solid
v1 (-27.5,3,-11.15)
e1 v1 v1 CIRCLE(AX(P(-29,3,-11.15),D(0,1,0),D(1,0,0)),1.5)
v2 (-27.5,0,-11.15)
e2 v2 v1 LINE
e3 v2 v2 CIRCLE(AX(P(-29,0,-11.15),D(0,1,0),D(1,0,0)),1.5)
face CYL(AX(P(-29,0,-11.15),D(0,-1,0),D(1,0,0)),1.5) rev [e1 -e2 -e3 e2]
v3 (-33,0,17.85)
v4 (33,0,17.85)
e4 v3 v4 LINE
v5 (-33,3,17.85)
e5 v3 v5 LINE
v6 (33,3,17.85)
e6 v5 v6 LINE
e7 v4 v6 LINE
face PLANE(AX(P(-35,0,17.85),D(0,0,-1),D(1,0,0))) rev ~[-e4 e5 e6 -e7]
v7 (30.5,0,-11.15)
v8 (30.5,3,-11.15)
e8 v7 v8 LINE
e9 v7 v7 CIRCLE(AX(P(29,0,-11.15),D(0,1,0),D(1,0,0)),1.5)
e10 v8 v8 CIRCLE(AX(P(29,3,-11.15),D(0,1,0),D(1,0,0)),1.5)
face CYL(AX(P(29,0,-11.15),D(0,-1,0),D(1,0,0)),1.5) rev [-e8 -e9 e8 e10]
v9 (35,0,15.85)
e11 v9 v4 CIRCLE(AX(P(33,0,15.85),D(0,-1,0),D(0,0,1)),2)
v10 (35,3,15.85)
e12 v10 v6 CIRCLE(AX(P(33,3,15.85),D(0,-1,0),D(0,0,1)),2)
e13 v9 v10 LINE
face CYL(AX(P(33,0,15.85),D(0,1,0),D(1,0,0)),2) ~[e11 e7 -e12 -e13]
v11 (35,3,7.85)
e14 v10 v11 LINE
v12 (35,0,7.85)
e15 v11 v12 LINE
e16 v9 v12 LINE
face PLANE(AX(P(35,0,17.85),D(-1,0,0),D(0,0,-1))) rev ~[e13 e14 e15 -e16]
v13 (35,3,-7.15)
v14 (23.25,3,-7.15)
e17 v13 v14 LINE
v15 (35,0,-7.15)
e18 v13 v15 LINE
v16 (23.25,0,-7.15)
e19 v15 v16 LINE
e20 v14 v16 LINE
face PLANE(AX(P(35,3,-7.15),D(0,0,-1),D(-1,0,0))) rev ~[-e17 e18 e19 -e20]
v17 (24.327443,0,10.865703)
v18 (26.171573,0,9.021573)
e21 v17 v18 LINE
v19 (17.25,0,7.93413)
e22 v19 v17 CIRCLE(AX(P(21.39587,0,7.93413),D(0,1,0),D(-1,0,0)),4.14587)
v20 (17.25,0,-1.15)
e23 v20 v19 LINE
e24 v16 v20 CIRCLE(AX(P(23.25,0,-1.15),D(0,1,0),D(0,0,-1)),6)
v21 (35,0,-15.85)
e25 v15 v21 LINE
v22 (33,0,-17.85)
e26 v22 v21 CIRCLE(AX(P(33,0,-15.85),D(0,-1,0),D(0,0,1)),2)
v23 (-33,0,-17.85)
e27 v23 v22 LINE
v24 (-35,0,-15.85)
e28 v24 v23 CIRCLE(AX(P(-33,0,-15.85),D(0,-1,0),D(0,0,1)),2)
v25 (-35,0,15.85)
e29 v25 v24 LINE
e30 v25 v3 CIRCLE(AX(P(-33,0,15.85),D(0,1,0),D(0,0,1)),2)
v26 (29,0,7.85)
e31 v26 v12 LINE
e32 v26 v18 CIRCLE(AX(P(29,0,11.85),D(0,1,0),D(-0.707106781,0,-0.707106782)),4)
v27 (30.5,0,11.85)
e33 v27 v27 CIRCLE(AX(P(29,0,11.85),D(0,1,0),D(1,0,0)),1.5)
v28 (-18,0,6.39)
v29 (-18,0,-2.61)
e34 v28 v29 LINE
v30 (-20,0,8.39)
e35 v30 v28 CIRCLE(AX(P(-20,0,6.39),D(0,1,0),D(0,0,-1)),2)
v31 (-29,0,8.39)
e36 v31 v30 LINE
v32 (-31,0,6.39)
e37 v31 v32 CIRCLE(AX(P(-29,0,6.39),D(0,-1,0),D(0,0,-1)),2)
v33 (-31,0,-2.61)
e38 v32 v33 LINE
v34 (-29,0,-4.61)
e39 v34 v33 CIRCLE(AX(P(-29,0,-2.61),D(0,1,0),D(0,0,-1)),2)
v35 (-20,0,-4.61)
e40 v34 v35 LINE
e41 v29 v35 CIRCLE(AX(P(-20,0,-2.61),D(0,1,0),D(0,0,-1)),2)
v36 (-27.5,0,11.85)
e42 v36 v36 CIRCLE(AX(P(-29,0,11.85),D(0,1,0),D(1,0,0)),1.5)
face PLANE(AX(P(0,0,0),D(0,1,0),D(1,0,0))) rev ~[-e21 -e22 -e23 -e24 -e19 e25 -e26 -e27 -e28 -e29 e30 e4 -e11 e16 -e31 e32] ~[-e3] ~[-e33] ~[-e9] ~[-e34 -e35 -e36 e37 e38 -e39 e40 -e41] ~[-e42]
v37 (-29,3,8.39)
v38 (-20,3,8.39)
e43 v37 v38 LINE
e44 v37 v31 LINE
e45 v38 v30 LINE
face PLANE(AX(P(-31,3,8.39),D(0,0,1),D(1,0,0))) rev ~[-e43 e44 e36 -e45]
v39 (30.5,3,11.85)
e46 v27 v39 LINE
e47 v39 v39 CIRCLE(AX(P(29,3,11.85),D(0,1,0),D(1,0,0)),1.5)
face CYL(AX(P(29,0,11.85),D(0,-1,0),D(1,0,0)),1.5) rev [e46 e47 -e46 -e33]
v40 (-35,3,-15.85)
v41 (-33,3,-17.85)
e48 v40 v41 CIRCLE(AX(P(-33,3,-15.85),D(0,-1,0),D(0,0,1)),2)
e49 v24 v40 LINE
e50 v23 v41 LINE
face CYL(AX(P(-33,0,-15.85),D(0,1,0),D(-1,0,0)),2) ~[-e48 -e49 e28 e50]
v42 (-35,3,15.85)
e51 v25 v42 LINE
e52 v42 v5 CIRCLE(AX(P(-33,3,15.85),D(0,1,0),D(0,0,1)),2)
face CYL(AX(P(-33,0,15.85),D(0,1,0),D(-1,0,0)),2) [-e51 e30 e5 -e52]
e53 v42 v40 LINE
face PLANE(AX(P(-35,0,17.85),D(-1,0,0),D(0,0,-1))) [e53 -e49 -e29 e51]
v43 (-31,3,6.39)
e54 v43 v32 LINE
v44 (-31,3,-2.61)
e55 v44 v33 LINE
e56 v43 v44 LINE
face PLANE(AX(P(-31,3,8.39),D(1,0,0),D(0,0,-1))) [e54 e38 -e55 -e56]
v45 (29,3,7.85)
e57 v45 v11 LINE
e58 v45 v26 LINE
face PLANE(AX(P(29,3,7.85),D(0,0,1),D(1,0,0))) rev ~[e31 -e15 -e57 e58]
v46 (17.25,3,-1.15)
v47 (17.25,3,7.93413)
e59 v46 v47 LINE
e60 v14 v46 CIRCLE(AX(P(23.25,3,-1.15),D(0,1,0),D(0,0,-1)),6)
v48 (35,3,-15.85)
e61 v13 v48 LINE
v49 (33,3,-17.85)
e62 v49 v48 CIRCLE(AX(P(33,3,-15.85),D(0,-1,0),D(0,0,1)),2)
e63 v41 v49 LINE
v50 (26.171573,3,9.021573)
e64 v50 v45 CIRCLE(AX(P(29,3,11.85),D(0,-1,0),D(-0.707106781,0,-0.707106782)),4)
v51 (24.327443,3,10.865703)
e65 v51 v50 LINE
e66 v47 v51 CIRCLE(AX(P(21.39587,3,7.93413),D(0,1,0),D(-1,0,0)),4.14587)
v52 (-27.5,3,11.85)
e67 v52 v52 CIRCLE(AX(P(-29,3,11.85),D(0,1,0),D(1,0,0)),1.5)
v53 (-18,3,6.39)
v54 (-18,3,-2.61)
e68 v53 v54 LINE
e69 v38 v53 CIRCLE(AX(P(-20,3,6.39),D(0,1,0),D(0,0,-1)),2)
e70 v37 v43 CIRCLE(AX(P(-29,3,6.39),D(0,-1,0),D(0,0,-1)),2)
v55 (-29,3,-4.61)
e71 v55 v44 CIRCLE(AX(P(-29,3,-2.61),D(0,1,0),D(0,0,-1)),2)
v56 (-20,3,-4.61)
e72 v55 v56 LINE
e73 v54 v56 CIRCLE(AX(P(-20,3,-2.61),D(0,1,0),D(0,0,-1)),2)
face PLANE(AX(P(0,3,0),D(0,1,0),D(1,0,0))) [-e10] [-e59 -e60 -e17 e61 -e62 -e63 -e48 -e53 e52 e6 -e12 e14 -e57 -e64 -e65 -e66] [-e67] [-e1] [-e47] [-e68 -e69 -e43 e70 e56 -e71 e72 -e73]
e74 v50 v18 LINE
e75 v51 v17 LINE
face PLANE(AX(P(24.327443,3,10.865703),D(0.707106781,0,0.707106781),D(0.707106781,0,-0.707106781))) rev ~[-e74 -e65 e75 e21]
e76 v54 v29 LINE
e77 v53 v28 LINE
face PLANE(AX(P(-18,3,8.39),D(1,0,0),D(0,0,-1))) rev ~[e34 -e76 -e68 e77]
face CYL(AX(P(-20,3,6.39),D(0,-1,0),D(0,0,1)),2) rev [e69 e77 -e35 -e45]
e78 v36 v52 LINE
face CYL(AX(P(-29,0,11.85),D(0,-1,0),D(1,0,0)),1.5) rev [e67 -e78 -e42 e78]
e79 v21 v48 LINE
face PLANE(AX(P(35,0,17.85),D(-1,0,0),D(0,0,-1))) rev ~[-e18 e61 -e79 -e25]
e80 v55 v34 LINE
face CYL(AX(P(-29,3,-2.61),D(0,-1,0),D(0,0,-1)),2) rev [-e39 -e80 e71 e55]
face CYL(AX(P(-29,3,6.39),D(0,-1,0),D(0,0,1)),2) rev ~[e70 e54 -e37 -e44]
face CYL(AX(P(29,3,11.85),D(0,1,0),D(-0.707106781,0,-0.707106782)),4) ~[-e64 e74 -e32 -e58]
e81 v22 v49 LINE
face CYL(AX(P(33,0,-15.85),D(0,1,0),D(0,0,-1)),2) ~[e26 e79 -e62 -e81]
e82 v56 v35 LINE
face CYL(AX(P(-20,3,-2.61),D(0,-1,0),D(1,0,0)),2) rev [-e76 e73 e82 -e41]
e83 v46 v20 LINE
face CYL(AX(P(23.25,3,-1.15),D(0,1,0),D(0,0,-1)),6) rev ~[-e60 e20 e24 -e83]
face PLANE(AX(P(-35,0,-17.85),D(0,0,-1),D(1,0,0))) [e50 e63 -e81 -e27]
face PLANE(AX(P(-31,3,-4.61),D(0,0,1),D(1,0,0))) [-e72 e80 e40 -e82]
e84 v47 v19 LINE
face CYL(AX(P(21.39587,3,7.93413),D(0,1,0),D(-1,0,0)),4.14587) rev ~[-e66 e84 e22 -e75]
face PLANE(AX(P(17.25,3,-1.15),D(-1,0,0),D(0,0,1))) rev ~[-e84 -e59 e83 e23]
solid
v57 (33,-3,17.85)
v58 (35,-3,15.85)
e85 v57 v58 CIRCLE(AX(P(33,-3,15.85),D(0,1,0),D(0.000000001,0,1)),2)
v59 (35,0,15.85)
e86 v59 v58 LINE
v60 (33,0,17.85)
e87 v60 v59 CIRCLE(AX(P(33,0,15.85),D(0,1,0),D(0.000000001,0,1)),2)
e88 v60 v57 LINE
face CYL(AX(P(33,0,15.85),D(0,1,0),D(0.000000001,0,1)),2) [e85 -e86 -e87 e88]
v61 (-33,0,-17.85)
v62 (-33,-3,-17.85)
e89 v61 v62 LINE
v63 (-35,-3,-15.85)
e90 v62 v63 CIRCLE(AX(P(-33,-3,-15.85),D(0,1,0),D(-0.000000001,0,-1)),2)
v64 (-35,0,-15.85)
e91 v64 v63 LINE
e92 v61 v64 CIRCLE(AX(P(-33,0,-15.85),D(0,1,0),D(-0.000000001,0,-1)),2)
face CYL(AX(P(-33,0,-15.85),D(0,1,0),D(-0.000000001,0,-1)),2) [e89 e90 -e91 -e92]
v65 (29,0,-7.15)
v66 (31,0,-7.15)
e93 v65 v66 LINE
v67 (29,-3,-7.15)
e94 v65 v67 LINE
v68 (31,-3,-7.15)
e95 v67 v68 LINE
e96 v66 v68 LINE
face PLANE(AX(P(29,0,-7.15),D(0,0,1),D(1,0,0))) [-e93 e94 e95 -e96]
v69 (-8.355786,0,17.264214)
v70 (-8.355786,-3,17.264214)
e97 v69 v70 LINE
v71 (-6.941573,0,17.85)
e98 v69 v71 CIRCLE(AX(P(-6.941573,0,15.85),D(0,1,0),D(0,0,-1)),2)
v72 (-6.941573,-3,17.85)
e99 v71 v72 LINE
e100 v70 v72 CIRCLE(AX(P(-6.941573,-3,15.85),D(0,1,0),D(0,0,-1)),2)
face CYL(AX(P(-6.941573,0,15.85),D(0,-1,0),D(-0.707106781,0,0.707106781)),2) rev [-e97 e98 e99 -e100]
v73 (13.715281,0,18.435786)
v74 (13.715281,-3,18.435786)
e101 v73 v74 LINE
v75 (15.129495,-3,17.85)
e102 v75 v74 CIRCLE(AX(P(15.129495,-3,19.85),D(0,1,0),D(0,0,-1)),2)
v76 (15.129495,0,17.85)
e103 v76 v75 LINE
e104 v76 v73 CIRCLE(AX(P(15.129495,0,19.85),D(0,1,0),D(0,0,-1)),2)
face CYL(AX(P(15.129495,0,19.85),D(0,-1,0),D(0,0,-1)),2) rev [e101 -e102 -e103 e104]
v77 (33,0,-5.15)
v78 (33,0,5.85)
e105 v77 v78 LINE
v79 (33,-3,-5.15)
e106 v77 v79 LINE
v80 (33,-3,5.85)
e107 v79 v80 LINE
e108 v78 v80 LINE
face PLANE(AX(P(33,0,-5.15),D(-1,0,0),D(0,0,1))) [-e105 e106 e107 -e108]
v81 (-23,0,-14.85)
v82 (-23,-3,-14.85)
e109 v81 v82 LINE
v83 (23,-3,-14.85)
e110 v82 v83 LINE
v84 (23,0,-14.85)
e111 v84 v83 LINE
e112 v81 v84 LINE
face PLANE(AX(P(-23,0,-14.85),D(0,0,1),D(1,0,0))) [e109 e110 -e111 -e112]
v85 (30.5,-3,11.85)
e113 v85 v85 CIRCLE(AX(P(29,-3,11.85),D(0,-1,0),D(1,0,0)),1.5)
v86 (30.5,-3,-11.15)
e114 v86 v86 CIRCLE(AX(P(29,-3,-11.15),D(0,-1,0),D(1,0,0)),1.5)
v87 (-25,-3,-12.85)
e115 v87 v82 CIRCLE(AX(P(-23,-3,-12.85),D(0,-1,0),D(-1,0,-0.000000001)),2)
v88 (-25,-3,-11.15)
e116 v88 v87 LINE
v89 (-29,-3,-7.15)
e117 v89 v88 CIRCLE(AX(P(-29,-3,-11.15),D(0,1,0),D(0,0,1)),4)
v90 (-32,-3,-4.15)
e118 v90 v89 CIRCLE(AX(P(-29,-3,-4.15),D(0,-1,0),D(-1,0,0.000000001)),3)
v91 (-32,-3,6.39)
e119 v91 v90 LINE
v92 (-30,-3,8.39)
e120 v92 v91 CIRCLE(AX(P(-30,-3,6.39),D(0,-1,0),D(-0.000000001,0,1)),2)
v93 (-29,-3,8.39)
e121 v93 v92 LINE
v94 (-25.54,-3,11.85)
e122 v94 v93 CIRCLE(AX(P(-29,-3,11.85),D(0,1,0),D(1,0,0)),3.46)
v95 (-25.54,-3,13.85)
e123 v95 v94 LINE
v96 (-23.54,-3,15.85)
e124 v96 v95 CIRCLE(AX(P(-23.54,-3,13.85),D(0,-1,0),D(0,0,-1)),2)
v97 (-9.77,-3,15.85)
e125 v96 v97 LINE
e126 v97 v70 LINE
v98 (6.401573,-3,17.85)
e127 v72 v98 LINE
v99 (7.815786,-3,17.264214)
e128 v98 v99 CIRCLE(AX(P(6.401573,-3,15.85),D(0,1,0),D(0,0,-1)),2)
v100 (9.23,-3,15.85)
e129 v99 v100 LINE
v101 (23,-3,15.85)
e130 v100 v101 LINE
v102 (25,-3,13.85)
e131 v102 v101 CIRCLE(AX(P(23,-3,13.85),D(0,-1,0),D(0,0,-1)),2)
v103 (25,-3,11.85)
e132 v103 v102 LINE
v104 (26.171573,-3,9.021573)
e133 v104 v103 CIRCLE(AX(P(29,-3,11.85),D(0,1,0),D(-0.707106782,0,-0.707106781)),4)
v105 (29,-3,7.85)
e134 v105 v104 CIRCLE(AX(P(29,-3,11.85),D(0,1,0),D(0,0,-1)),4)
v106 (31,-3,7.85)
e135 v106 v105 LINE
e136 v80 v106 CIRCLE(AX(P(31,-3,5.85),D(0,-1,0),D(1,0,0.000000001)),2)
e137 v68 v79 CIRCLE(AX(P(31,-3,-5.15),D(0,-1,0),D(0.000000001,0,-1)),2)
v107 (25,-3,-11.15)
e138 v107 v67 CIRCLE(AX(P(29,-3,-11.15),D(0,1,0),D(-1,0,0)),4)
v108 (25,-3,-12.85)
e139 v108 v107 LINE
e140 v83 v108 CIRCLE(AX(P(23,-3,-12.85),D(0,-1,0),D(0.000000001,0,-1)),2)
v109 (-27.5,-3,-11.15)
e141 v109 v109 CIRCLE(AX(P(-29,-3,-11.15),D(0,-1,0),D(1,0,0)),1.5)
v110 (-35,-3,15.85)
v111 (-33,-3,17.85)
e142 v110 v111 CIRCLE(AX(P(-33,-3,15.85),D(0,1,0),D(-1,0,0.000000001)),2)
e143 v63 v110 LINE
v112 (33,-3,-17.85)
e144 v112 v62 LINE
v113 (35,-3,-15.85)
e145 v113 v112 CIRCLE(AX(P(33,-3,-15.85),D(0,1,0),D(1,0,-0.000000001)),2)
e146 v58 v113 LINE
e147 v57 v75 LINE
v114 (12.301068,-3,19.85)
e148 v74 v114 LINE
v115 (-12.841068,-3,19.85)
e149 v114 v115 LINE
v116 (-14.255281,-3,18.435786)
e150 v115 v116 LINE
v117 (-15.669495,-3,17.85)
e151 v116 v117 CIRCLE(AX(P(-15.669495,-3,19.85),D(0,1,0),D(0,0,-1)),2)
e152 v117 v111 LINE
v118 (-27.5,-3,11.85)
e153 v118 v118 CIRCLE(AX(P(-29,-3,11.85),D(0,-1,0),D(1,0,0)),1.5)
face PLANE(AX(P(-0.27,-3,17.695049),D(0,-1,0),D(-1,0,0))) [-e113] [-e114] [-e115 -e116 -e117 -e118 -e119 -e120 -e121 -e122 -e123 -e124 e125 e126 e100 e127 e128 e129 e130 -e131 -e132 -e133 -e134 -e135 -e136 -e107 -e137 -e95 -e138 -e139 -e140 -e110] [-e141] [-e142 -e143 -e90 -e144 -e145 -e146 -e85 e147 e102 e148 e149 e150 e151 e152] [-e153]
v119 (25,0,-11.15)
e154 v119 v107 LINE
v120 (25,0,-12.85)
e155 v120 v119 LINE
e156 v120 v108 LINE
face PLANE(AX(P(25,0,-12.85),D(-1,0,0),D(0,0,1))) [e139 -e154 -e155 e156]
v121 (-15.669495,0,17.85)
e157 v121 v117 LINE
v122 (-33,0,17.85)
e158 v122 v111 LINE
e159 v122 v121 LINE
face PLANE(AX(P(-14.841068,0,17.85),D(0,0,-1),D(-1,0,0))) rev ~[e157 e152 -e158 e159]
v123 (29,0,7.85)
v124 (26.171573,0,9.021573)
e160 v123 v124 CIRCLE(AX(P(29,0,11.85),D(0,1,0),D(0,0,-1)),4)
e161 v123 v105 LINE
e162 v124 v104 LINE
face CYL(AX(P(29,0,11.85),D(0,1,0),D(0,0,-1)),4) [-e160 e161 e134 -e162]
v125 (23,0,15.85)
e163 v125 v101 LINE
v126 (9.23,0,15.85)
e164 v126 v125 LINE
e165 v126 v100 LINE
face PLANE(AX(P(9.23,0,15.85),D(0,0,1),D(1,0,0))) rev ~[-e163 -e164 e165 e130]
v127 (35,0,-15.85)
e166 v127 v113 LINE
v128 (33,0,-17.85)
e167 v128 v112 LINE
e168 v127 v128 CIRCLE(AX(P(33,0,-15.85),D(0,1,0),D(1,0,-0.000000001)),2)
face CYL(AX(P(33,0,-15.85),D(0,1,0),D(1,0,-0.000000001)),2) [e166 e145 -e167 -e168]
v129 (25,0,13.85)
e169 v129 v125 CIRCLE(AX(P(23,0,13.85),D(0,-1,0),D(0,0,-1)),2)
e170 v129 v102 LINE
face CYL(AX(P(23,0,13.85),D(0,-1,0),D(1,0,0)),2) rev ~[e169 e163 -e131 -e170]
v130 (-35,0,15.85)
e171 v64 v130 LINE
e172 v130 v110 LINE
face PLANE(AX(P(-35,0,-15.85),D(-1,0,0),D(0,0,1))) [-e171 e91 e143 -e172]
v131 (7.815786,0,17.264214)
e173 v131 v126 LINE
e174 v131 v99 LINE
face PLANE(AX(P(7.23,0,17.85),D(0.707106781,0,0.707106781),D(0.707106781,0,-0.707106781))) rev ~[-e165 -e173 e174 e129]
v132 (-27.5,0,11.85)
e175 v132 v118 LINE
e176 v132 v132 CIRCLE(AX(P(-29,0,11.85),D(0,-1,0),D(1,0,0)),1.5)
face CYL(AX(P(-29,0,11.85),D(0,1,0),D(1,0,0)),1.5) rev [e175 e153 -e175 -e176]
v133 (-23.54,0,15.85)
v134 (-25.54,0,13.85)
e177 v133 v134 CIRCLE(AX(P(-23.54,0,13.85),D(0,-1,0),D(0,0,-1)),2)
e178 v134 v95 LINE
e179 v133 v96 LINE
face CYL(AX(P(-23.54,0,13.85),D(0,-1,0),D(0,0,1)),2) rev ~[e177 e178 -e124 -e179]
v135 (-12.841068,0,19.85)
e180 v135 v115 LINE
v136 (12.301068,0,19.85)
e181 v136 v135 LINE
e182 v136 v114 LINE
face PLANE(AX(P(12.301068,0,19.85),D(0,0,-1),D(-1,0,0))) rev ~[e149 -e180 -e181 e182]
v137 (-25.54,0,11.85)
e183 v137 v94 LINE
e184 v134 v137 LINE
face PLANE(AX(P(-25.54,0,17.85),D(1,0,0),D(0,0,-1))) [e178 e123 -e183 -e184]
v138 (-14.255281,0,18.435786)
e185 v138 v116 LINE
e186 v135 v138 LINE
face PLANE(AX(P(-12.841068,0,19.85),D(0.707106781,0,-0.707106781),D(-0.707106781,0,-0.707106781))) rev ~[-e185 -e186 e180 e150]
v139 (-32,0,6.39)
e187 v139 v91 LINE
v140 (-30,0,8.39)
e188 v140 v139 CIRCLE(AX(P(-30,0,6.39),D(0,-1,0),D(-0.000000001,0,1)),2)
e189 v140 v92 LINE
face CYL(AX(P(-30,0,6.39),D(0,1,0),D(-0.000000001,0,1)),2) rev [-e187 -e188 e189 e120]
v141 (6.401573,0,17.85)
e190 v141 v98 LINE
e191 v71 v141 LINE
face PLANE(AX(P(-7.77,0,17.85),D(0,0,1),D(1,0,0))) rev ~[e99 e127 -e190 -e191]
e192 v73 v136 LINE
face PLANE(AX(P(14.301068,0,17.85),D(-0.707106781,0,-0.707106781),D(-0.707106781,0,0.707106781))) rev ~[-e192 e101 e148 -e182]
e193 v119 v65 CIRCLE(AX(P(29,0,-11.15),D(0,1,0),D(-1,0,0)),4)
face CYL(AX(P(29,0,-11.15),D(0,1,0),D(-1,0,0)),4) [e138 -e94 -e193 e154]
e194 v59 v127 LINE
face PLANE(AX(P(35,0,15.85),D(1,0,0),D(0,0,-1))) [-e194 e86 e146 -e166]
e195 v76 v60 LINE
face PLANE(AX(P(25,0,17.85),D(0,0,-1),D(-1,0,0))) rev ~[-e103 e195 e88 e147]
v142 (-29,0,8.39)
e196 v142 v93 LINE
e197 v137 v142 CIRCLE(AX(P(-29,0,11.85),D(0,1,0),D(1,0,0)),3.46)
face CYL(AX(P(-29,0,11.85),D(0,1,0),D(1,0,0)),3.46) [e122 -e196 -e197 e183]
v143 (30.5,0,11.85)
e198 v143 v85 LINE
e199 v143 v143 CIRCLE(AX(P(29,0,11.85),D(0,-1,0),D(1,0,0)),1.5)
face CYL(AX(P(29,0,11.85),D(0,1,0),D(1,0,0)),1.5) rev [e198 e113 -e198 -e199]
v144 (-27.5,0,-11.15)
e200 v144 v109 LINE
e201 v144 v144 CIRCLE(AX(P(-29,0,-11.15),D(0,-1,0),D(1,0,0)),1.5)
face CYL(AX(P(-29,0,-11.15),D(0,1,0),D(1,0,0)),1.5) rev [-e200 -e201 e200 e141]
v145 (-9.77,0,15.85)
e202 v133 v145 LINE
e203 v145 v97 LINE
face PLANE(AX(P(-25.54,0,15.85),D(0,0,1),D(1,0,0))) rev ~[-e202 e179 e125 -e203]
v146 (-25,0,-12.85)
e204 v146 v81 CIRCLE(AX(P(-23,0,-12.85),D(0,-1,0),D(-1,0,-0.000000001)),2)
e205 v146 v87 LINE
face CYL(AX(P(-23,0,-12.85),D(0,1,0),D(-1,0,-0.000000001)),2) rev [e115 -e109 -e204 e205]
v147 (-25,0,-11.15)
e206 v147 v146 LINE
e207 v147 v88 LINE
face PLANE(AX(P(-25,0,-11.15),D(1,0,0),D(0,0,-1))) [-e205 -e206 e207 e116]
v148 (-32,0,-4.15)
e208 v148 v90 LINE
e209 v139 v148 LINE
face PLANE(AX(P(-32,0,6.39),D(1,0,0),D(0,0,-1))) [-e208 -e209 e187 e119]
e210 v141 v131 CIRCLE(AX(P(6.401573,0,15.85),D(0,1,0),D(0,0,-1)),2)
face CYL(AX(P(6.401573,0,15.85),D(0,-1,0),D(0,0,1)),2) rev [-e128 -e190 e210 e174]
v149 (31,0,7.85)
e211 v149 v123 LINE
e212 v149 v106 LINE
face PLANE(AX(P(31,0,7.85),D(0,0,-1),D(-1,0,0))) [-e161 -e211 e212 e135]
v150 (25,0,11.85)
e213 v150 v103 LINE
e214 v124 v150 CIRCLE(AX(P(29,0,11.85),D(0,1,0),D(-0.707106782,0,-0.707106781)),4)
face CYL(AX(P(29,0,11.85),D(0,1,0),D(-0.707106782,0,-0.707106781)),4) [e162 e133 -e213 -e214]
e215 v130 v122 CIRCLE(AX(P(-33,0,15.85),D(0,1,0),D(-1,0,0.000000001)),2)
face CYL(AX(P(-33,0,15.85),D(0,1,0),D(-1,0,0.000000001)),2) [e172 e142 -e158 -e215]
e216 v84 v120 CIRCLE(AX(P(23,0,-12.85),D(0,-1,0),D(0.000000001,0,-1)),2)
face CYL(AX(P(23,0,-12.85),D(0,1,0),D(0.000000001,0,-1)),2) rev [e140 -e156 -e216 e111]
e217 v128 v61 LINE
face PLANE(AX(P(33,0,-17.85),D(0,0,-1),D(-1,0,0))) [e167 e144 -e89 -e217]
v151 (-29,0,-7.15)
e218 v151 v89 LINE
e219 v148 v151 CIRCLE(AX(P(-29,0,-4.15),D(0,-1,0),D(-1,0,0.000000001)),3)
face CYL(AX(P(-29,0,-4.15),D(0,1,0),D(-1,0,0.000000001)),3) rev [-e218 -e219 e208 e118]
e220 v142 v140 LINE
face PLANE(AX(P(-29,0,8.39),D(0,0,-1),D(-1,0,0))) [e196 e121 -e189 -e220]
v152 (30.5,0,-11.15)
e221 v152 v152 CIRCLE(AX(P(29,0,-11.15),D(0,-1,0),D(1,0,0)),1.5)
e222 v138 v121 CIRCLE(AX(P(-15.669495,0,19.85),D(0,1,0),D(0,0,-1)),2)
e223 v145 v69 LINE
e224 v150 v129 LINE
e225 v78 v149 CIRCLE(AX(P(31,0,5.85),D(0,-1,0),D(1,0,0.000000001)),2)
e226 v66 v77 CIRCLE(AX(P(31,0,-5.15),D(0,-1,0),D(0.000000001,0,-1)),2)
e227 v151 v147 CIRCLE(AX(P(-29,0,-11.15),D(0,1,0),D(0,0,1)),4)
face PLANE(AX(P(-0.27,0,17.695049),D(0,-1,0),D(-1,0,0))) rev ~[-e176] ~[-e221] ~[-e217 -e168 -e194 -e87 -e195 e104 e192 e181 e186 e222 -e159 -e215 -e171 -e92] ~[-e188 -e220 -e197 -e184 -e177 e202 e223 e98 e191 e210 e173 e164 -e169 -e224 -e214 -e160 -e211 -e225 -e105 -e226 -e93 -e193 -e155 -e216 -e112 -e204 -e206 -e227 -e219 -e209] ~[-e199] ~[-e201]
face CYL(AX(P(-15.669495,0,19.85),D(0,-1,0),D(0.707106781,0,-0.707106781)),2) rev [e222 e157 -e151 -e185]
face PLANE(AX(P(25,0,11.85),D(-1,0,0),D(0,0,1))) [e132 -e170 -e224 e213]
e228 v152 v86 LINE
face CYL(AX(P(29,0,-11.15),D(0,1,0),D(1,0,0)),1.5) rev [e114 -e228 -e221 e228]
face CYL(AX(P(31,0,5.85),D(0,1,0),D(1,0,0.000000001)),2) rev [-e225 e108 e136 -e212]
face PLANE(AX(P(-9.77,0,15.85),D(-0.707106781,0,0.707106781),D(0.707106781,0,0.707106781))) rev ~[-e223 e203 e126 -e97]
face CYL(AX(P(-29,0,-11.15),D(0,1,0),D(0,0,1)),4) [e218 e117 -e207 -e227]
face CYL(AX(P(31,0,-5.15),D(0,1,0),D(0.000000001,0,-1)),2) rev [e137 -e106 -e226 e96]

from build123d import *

# Parameters (mm, degrees)
SKETCH1_W           = 70
SKETCH1_H           = 35.7
SKETCH1_R           = 1.5
BOSS_EXTRUDE1_DEPTH = 3
SKETCH2_W           = 13
SKETCH2_H           = 13
CUT_EXTRUDE1_DEPTH  = 4
FILLET1_R           = 2
FILLET2_R           = 2
SKETCH3_R           = 1.5
BOSS_EXTRUDE2_DEPTH = 3
BOSS_EXTRUDE3_DEPTH = 3
FILLET3_R           = 2
FILLET4_R           = 2


with BuildPart() as part:
    # Sketch1 → Boss-Extrude1 (new body)
    with BuildSketch(Plane(origin=(0, 0, 0), x_dir=(1, 0, 0), z_dir=(0, 1, 0))):
        Rectangle(SKETCH1_W, SKETCH1_H)
        with Locations((-29, -11.85)):
            Circle(SKETCH1_R, mode=Mode.SUBTRACT)
        with Locations((29, -11.85)):
            Circle(SKETCH1_R, mode=Mode.SUBTRACT)
        with Locations((29, 11.15)):
            Circle(SKETCH1_R, mode=Mode.SUBTRACT)
        with Locations((-29, 11.15)):
            Circle(SKETCH1_R, mode=Mode.SUBTRACT)
    extrude(amount=BOSS_EXTRUDE1_DEPTH)

    # Sketch2 → Cut-Extrude1 (cut, through all)
    with BuildSketch(Plane(origin=(0, 3, 0), x_dir=(1, 0, 0), z_dir=(0, 1, 0))):
        with Locations((-24.5, -1.89)):
            Rectangle(SKETCH2_W, SKETCH2_H)
        with BuildLine():
            Line((17.25, 1.15), (17.25, -7.934129881))
            ThreePointArc((17.25, -7.934129881), (19.809314312, -11.764414428), (24.327442995, -10.865702756))
            Line((24.327442995, -10.865702756), (26.171572875, -9.021572875))
            ThreePointArc((26.171572875, -9.021572875), (27.469266271, -8.15448187), (29, -7.85))
            Line((29, -7.85), (35, -7.85))
            Line((35, -7.85), (35, 7.15))
            Line((35, 7.15), (23.25, 7.15))
            ThreePointArc((23.25, 7.15), (19.007359313, 5.392640687), (17.25, 1.15))
        make_face()
    extrude(amount=-CUT_EXTRUDE1_DEPTH, mode=Mode.SUBTRACT)

    # Fillet1
    fillet1_edges = [part.edges().sort_by_distance(p)[0] for p in [
        (-18, 1.5, -4.61),
        (-18, 1.5, 8.39),
        (-31, 1.5, 8.39),
        (-31, 1.5, -4.61),
    ]]
    fillet(fillet1_edges, radius=FILLET1_R)

    # Fillet2
    fillet2_edges = [part.edges().sort_by_distance(p)[0] for p in [
        (-35, 1.5, -17.85),
        (35, 1.5, -17.85),
        (35, 1.5, 17.85),
        (-35, 1.5, 17.85),
    ]]
    fillet(fillet2_edges, radius=FILLET2_R)


with BuildPart() as body_2:
    # Sketch3 → Boss-Extrude2 (new body)
    with BuildSketch(Plane.XZ):
        with BuildLine():
            Line((35, 15.85), (35, 7.85))
            Line((35, 7.85), (35, -7.15))
            Line((35, -7.15), (35, -15.85))
            ThreePointArc((35, -15.85), (34.414213562, -17.264213562), (33, -17.85))
            Line((33, -17.85), (-33, -17.85))
            ThreePointArc((-33, -17.85), (-34.414213562, -17.264213562), (-35, -15.85))
            Line((-35, -15.85), (-35, 15.85))
            ThreePointArc((-35, 15.85), (-34.414213562, 17.264213562), (-33, 17.85))
            Line((-33, 17.85), (-25.54, 17.85))
            Line((-25.54, 17.85), (-25.54, 11.85))
            ThreePointArc((-25.54, 11.85), (-26.553410537, 9.403410537), (-29, 8.39))
            Line((-29, 8.39), (-30, 8.39))
            ThreePointArc((-30, 8.39), (-31.414213562, 7.804213562), (-32, 6.39))
            Line((-32, 6.39), (-32, -4.15))
            ThreePointArc((-32, -4.15), (-31.121320344, -6.271320344), (-29, -7.15))
            ThreePointArc((-29, -7.15), (-26.171572875, -8.321572875), (-25, -11.15))
            Line((-25, -11.15), (-25, -12.85))
            ThreePointArc((-25, -12.85), (-24.414213562, -14.264213562), (-23, -14.85))
            Line((-23, -14.85), (23, -14.85))
            ThreePointArc((23, -14.85), (24.414213562, -14.264213562), (25, -12.85))
            Line((25, -12.85), (25, -11.15))
            ThreePointArc((25, -11.15), (26.171572875, -8.321572875), (29, -7.15))
            Line((29, -7.15), (31, -7.15))
            ThreePointArc((31, -7.15), (32.414213562, -6.564213562), (33, -5.15))
            Line((33, -5.15), (33, 5.85))
            ThreePointArc((33, 5.85), (32.414213562, 7.264213562), (31, 7.85))
            Line((31, 7.85), (29, 7.85))
            ThreePointArc((29, 7.85), (27.469266271, 8.15448187), (26.171572875, 9.021572875))
            ThreePointArc((26.171572875, 9.021572875), (25.30448187, 10.319266271), (25, 11.85))
            Line((25, 11.85), (25, 17.85))
            Line((25, 17.85), (33, 17.85))
            ThreePointArc((33, 17.85), (34.414213562, 17.264213562), (35, 15.85))
        make_face()
        with Locations((-29, 11.85)):
            Circle(SKETCH3_R, mode=Mode.SUBTRACT)
        with Locations((-29, -11.15)):
            Circle(SKETCH3_R, mode=Mode.SUBTRACT)
        with Locations((29, -11.15)):
            Circle(SKETCH3_R, mode=Mode.SUBTRACT)
        with Locations((29, 11.85)):
            Circle(SKETCH3_R, mode=Mode.SUBTRACT)
    extrude(amount=BOSS_EXTRUDE2_DEPTH)

    # Sketch4 → Boss-Extrude3 (add)
    with BuildSketch(Plane(origin=(0, 0, 0), x_dir=(1, 0, 0), z_dir=(0, 1, 0))):
        Polygon((-25.54, -15.85), (-9.77, -15.85), (-7.77, -17.85), (7.23, -17.85), (9.23, -15.85), (25, -15.85), (25, -17.85), (14.301067812, -17.85), (12.301067812, -19.85), (-12.841067812, -19.85), (-14.841067812, -17.85), (-25.54, -17.85), align=None)
    extrude(amount=-BOSS_EXTRUDE3_DEPTH)

    # Fillet3
    fillet3_edges = [body_2.edges().sort_by_distance(p)[0] for p in [
        (-25.54, -1.5, 15.85),
        (25, -1.5, 15.85),
    ]]
    fillet(fillet3_edges, radius=FILLET3_R)

    # Fillet4
    fillet4_edges = [body_2.edges().sort_by_distance(p)[0] for p in [
        (-7.77, -1.5, 17.85),
        (7.23, -1.5, 17.85),
        (14.301067812, -1.5, 17.85),
        (-14.841067812, -1.5, 17.85),
    ]]
    fillet(fillet4_edges, radius=FILLET4_R)


solid = Compound([part.part, body_2.part])
